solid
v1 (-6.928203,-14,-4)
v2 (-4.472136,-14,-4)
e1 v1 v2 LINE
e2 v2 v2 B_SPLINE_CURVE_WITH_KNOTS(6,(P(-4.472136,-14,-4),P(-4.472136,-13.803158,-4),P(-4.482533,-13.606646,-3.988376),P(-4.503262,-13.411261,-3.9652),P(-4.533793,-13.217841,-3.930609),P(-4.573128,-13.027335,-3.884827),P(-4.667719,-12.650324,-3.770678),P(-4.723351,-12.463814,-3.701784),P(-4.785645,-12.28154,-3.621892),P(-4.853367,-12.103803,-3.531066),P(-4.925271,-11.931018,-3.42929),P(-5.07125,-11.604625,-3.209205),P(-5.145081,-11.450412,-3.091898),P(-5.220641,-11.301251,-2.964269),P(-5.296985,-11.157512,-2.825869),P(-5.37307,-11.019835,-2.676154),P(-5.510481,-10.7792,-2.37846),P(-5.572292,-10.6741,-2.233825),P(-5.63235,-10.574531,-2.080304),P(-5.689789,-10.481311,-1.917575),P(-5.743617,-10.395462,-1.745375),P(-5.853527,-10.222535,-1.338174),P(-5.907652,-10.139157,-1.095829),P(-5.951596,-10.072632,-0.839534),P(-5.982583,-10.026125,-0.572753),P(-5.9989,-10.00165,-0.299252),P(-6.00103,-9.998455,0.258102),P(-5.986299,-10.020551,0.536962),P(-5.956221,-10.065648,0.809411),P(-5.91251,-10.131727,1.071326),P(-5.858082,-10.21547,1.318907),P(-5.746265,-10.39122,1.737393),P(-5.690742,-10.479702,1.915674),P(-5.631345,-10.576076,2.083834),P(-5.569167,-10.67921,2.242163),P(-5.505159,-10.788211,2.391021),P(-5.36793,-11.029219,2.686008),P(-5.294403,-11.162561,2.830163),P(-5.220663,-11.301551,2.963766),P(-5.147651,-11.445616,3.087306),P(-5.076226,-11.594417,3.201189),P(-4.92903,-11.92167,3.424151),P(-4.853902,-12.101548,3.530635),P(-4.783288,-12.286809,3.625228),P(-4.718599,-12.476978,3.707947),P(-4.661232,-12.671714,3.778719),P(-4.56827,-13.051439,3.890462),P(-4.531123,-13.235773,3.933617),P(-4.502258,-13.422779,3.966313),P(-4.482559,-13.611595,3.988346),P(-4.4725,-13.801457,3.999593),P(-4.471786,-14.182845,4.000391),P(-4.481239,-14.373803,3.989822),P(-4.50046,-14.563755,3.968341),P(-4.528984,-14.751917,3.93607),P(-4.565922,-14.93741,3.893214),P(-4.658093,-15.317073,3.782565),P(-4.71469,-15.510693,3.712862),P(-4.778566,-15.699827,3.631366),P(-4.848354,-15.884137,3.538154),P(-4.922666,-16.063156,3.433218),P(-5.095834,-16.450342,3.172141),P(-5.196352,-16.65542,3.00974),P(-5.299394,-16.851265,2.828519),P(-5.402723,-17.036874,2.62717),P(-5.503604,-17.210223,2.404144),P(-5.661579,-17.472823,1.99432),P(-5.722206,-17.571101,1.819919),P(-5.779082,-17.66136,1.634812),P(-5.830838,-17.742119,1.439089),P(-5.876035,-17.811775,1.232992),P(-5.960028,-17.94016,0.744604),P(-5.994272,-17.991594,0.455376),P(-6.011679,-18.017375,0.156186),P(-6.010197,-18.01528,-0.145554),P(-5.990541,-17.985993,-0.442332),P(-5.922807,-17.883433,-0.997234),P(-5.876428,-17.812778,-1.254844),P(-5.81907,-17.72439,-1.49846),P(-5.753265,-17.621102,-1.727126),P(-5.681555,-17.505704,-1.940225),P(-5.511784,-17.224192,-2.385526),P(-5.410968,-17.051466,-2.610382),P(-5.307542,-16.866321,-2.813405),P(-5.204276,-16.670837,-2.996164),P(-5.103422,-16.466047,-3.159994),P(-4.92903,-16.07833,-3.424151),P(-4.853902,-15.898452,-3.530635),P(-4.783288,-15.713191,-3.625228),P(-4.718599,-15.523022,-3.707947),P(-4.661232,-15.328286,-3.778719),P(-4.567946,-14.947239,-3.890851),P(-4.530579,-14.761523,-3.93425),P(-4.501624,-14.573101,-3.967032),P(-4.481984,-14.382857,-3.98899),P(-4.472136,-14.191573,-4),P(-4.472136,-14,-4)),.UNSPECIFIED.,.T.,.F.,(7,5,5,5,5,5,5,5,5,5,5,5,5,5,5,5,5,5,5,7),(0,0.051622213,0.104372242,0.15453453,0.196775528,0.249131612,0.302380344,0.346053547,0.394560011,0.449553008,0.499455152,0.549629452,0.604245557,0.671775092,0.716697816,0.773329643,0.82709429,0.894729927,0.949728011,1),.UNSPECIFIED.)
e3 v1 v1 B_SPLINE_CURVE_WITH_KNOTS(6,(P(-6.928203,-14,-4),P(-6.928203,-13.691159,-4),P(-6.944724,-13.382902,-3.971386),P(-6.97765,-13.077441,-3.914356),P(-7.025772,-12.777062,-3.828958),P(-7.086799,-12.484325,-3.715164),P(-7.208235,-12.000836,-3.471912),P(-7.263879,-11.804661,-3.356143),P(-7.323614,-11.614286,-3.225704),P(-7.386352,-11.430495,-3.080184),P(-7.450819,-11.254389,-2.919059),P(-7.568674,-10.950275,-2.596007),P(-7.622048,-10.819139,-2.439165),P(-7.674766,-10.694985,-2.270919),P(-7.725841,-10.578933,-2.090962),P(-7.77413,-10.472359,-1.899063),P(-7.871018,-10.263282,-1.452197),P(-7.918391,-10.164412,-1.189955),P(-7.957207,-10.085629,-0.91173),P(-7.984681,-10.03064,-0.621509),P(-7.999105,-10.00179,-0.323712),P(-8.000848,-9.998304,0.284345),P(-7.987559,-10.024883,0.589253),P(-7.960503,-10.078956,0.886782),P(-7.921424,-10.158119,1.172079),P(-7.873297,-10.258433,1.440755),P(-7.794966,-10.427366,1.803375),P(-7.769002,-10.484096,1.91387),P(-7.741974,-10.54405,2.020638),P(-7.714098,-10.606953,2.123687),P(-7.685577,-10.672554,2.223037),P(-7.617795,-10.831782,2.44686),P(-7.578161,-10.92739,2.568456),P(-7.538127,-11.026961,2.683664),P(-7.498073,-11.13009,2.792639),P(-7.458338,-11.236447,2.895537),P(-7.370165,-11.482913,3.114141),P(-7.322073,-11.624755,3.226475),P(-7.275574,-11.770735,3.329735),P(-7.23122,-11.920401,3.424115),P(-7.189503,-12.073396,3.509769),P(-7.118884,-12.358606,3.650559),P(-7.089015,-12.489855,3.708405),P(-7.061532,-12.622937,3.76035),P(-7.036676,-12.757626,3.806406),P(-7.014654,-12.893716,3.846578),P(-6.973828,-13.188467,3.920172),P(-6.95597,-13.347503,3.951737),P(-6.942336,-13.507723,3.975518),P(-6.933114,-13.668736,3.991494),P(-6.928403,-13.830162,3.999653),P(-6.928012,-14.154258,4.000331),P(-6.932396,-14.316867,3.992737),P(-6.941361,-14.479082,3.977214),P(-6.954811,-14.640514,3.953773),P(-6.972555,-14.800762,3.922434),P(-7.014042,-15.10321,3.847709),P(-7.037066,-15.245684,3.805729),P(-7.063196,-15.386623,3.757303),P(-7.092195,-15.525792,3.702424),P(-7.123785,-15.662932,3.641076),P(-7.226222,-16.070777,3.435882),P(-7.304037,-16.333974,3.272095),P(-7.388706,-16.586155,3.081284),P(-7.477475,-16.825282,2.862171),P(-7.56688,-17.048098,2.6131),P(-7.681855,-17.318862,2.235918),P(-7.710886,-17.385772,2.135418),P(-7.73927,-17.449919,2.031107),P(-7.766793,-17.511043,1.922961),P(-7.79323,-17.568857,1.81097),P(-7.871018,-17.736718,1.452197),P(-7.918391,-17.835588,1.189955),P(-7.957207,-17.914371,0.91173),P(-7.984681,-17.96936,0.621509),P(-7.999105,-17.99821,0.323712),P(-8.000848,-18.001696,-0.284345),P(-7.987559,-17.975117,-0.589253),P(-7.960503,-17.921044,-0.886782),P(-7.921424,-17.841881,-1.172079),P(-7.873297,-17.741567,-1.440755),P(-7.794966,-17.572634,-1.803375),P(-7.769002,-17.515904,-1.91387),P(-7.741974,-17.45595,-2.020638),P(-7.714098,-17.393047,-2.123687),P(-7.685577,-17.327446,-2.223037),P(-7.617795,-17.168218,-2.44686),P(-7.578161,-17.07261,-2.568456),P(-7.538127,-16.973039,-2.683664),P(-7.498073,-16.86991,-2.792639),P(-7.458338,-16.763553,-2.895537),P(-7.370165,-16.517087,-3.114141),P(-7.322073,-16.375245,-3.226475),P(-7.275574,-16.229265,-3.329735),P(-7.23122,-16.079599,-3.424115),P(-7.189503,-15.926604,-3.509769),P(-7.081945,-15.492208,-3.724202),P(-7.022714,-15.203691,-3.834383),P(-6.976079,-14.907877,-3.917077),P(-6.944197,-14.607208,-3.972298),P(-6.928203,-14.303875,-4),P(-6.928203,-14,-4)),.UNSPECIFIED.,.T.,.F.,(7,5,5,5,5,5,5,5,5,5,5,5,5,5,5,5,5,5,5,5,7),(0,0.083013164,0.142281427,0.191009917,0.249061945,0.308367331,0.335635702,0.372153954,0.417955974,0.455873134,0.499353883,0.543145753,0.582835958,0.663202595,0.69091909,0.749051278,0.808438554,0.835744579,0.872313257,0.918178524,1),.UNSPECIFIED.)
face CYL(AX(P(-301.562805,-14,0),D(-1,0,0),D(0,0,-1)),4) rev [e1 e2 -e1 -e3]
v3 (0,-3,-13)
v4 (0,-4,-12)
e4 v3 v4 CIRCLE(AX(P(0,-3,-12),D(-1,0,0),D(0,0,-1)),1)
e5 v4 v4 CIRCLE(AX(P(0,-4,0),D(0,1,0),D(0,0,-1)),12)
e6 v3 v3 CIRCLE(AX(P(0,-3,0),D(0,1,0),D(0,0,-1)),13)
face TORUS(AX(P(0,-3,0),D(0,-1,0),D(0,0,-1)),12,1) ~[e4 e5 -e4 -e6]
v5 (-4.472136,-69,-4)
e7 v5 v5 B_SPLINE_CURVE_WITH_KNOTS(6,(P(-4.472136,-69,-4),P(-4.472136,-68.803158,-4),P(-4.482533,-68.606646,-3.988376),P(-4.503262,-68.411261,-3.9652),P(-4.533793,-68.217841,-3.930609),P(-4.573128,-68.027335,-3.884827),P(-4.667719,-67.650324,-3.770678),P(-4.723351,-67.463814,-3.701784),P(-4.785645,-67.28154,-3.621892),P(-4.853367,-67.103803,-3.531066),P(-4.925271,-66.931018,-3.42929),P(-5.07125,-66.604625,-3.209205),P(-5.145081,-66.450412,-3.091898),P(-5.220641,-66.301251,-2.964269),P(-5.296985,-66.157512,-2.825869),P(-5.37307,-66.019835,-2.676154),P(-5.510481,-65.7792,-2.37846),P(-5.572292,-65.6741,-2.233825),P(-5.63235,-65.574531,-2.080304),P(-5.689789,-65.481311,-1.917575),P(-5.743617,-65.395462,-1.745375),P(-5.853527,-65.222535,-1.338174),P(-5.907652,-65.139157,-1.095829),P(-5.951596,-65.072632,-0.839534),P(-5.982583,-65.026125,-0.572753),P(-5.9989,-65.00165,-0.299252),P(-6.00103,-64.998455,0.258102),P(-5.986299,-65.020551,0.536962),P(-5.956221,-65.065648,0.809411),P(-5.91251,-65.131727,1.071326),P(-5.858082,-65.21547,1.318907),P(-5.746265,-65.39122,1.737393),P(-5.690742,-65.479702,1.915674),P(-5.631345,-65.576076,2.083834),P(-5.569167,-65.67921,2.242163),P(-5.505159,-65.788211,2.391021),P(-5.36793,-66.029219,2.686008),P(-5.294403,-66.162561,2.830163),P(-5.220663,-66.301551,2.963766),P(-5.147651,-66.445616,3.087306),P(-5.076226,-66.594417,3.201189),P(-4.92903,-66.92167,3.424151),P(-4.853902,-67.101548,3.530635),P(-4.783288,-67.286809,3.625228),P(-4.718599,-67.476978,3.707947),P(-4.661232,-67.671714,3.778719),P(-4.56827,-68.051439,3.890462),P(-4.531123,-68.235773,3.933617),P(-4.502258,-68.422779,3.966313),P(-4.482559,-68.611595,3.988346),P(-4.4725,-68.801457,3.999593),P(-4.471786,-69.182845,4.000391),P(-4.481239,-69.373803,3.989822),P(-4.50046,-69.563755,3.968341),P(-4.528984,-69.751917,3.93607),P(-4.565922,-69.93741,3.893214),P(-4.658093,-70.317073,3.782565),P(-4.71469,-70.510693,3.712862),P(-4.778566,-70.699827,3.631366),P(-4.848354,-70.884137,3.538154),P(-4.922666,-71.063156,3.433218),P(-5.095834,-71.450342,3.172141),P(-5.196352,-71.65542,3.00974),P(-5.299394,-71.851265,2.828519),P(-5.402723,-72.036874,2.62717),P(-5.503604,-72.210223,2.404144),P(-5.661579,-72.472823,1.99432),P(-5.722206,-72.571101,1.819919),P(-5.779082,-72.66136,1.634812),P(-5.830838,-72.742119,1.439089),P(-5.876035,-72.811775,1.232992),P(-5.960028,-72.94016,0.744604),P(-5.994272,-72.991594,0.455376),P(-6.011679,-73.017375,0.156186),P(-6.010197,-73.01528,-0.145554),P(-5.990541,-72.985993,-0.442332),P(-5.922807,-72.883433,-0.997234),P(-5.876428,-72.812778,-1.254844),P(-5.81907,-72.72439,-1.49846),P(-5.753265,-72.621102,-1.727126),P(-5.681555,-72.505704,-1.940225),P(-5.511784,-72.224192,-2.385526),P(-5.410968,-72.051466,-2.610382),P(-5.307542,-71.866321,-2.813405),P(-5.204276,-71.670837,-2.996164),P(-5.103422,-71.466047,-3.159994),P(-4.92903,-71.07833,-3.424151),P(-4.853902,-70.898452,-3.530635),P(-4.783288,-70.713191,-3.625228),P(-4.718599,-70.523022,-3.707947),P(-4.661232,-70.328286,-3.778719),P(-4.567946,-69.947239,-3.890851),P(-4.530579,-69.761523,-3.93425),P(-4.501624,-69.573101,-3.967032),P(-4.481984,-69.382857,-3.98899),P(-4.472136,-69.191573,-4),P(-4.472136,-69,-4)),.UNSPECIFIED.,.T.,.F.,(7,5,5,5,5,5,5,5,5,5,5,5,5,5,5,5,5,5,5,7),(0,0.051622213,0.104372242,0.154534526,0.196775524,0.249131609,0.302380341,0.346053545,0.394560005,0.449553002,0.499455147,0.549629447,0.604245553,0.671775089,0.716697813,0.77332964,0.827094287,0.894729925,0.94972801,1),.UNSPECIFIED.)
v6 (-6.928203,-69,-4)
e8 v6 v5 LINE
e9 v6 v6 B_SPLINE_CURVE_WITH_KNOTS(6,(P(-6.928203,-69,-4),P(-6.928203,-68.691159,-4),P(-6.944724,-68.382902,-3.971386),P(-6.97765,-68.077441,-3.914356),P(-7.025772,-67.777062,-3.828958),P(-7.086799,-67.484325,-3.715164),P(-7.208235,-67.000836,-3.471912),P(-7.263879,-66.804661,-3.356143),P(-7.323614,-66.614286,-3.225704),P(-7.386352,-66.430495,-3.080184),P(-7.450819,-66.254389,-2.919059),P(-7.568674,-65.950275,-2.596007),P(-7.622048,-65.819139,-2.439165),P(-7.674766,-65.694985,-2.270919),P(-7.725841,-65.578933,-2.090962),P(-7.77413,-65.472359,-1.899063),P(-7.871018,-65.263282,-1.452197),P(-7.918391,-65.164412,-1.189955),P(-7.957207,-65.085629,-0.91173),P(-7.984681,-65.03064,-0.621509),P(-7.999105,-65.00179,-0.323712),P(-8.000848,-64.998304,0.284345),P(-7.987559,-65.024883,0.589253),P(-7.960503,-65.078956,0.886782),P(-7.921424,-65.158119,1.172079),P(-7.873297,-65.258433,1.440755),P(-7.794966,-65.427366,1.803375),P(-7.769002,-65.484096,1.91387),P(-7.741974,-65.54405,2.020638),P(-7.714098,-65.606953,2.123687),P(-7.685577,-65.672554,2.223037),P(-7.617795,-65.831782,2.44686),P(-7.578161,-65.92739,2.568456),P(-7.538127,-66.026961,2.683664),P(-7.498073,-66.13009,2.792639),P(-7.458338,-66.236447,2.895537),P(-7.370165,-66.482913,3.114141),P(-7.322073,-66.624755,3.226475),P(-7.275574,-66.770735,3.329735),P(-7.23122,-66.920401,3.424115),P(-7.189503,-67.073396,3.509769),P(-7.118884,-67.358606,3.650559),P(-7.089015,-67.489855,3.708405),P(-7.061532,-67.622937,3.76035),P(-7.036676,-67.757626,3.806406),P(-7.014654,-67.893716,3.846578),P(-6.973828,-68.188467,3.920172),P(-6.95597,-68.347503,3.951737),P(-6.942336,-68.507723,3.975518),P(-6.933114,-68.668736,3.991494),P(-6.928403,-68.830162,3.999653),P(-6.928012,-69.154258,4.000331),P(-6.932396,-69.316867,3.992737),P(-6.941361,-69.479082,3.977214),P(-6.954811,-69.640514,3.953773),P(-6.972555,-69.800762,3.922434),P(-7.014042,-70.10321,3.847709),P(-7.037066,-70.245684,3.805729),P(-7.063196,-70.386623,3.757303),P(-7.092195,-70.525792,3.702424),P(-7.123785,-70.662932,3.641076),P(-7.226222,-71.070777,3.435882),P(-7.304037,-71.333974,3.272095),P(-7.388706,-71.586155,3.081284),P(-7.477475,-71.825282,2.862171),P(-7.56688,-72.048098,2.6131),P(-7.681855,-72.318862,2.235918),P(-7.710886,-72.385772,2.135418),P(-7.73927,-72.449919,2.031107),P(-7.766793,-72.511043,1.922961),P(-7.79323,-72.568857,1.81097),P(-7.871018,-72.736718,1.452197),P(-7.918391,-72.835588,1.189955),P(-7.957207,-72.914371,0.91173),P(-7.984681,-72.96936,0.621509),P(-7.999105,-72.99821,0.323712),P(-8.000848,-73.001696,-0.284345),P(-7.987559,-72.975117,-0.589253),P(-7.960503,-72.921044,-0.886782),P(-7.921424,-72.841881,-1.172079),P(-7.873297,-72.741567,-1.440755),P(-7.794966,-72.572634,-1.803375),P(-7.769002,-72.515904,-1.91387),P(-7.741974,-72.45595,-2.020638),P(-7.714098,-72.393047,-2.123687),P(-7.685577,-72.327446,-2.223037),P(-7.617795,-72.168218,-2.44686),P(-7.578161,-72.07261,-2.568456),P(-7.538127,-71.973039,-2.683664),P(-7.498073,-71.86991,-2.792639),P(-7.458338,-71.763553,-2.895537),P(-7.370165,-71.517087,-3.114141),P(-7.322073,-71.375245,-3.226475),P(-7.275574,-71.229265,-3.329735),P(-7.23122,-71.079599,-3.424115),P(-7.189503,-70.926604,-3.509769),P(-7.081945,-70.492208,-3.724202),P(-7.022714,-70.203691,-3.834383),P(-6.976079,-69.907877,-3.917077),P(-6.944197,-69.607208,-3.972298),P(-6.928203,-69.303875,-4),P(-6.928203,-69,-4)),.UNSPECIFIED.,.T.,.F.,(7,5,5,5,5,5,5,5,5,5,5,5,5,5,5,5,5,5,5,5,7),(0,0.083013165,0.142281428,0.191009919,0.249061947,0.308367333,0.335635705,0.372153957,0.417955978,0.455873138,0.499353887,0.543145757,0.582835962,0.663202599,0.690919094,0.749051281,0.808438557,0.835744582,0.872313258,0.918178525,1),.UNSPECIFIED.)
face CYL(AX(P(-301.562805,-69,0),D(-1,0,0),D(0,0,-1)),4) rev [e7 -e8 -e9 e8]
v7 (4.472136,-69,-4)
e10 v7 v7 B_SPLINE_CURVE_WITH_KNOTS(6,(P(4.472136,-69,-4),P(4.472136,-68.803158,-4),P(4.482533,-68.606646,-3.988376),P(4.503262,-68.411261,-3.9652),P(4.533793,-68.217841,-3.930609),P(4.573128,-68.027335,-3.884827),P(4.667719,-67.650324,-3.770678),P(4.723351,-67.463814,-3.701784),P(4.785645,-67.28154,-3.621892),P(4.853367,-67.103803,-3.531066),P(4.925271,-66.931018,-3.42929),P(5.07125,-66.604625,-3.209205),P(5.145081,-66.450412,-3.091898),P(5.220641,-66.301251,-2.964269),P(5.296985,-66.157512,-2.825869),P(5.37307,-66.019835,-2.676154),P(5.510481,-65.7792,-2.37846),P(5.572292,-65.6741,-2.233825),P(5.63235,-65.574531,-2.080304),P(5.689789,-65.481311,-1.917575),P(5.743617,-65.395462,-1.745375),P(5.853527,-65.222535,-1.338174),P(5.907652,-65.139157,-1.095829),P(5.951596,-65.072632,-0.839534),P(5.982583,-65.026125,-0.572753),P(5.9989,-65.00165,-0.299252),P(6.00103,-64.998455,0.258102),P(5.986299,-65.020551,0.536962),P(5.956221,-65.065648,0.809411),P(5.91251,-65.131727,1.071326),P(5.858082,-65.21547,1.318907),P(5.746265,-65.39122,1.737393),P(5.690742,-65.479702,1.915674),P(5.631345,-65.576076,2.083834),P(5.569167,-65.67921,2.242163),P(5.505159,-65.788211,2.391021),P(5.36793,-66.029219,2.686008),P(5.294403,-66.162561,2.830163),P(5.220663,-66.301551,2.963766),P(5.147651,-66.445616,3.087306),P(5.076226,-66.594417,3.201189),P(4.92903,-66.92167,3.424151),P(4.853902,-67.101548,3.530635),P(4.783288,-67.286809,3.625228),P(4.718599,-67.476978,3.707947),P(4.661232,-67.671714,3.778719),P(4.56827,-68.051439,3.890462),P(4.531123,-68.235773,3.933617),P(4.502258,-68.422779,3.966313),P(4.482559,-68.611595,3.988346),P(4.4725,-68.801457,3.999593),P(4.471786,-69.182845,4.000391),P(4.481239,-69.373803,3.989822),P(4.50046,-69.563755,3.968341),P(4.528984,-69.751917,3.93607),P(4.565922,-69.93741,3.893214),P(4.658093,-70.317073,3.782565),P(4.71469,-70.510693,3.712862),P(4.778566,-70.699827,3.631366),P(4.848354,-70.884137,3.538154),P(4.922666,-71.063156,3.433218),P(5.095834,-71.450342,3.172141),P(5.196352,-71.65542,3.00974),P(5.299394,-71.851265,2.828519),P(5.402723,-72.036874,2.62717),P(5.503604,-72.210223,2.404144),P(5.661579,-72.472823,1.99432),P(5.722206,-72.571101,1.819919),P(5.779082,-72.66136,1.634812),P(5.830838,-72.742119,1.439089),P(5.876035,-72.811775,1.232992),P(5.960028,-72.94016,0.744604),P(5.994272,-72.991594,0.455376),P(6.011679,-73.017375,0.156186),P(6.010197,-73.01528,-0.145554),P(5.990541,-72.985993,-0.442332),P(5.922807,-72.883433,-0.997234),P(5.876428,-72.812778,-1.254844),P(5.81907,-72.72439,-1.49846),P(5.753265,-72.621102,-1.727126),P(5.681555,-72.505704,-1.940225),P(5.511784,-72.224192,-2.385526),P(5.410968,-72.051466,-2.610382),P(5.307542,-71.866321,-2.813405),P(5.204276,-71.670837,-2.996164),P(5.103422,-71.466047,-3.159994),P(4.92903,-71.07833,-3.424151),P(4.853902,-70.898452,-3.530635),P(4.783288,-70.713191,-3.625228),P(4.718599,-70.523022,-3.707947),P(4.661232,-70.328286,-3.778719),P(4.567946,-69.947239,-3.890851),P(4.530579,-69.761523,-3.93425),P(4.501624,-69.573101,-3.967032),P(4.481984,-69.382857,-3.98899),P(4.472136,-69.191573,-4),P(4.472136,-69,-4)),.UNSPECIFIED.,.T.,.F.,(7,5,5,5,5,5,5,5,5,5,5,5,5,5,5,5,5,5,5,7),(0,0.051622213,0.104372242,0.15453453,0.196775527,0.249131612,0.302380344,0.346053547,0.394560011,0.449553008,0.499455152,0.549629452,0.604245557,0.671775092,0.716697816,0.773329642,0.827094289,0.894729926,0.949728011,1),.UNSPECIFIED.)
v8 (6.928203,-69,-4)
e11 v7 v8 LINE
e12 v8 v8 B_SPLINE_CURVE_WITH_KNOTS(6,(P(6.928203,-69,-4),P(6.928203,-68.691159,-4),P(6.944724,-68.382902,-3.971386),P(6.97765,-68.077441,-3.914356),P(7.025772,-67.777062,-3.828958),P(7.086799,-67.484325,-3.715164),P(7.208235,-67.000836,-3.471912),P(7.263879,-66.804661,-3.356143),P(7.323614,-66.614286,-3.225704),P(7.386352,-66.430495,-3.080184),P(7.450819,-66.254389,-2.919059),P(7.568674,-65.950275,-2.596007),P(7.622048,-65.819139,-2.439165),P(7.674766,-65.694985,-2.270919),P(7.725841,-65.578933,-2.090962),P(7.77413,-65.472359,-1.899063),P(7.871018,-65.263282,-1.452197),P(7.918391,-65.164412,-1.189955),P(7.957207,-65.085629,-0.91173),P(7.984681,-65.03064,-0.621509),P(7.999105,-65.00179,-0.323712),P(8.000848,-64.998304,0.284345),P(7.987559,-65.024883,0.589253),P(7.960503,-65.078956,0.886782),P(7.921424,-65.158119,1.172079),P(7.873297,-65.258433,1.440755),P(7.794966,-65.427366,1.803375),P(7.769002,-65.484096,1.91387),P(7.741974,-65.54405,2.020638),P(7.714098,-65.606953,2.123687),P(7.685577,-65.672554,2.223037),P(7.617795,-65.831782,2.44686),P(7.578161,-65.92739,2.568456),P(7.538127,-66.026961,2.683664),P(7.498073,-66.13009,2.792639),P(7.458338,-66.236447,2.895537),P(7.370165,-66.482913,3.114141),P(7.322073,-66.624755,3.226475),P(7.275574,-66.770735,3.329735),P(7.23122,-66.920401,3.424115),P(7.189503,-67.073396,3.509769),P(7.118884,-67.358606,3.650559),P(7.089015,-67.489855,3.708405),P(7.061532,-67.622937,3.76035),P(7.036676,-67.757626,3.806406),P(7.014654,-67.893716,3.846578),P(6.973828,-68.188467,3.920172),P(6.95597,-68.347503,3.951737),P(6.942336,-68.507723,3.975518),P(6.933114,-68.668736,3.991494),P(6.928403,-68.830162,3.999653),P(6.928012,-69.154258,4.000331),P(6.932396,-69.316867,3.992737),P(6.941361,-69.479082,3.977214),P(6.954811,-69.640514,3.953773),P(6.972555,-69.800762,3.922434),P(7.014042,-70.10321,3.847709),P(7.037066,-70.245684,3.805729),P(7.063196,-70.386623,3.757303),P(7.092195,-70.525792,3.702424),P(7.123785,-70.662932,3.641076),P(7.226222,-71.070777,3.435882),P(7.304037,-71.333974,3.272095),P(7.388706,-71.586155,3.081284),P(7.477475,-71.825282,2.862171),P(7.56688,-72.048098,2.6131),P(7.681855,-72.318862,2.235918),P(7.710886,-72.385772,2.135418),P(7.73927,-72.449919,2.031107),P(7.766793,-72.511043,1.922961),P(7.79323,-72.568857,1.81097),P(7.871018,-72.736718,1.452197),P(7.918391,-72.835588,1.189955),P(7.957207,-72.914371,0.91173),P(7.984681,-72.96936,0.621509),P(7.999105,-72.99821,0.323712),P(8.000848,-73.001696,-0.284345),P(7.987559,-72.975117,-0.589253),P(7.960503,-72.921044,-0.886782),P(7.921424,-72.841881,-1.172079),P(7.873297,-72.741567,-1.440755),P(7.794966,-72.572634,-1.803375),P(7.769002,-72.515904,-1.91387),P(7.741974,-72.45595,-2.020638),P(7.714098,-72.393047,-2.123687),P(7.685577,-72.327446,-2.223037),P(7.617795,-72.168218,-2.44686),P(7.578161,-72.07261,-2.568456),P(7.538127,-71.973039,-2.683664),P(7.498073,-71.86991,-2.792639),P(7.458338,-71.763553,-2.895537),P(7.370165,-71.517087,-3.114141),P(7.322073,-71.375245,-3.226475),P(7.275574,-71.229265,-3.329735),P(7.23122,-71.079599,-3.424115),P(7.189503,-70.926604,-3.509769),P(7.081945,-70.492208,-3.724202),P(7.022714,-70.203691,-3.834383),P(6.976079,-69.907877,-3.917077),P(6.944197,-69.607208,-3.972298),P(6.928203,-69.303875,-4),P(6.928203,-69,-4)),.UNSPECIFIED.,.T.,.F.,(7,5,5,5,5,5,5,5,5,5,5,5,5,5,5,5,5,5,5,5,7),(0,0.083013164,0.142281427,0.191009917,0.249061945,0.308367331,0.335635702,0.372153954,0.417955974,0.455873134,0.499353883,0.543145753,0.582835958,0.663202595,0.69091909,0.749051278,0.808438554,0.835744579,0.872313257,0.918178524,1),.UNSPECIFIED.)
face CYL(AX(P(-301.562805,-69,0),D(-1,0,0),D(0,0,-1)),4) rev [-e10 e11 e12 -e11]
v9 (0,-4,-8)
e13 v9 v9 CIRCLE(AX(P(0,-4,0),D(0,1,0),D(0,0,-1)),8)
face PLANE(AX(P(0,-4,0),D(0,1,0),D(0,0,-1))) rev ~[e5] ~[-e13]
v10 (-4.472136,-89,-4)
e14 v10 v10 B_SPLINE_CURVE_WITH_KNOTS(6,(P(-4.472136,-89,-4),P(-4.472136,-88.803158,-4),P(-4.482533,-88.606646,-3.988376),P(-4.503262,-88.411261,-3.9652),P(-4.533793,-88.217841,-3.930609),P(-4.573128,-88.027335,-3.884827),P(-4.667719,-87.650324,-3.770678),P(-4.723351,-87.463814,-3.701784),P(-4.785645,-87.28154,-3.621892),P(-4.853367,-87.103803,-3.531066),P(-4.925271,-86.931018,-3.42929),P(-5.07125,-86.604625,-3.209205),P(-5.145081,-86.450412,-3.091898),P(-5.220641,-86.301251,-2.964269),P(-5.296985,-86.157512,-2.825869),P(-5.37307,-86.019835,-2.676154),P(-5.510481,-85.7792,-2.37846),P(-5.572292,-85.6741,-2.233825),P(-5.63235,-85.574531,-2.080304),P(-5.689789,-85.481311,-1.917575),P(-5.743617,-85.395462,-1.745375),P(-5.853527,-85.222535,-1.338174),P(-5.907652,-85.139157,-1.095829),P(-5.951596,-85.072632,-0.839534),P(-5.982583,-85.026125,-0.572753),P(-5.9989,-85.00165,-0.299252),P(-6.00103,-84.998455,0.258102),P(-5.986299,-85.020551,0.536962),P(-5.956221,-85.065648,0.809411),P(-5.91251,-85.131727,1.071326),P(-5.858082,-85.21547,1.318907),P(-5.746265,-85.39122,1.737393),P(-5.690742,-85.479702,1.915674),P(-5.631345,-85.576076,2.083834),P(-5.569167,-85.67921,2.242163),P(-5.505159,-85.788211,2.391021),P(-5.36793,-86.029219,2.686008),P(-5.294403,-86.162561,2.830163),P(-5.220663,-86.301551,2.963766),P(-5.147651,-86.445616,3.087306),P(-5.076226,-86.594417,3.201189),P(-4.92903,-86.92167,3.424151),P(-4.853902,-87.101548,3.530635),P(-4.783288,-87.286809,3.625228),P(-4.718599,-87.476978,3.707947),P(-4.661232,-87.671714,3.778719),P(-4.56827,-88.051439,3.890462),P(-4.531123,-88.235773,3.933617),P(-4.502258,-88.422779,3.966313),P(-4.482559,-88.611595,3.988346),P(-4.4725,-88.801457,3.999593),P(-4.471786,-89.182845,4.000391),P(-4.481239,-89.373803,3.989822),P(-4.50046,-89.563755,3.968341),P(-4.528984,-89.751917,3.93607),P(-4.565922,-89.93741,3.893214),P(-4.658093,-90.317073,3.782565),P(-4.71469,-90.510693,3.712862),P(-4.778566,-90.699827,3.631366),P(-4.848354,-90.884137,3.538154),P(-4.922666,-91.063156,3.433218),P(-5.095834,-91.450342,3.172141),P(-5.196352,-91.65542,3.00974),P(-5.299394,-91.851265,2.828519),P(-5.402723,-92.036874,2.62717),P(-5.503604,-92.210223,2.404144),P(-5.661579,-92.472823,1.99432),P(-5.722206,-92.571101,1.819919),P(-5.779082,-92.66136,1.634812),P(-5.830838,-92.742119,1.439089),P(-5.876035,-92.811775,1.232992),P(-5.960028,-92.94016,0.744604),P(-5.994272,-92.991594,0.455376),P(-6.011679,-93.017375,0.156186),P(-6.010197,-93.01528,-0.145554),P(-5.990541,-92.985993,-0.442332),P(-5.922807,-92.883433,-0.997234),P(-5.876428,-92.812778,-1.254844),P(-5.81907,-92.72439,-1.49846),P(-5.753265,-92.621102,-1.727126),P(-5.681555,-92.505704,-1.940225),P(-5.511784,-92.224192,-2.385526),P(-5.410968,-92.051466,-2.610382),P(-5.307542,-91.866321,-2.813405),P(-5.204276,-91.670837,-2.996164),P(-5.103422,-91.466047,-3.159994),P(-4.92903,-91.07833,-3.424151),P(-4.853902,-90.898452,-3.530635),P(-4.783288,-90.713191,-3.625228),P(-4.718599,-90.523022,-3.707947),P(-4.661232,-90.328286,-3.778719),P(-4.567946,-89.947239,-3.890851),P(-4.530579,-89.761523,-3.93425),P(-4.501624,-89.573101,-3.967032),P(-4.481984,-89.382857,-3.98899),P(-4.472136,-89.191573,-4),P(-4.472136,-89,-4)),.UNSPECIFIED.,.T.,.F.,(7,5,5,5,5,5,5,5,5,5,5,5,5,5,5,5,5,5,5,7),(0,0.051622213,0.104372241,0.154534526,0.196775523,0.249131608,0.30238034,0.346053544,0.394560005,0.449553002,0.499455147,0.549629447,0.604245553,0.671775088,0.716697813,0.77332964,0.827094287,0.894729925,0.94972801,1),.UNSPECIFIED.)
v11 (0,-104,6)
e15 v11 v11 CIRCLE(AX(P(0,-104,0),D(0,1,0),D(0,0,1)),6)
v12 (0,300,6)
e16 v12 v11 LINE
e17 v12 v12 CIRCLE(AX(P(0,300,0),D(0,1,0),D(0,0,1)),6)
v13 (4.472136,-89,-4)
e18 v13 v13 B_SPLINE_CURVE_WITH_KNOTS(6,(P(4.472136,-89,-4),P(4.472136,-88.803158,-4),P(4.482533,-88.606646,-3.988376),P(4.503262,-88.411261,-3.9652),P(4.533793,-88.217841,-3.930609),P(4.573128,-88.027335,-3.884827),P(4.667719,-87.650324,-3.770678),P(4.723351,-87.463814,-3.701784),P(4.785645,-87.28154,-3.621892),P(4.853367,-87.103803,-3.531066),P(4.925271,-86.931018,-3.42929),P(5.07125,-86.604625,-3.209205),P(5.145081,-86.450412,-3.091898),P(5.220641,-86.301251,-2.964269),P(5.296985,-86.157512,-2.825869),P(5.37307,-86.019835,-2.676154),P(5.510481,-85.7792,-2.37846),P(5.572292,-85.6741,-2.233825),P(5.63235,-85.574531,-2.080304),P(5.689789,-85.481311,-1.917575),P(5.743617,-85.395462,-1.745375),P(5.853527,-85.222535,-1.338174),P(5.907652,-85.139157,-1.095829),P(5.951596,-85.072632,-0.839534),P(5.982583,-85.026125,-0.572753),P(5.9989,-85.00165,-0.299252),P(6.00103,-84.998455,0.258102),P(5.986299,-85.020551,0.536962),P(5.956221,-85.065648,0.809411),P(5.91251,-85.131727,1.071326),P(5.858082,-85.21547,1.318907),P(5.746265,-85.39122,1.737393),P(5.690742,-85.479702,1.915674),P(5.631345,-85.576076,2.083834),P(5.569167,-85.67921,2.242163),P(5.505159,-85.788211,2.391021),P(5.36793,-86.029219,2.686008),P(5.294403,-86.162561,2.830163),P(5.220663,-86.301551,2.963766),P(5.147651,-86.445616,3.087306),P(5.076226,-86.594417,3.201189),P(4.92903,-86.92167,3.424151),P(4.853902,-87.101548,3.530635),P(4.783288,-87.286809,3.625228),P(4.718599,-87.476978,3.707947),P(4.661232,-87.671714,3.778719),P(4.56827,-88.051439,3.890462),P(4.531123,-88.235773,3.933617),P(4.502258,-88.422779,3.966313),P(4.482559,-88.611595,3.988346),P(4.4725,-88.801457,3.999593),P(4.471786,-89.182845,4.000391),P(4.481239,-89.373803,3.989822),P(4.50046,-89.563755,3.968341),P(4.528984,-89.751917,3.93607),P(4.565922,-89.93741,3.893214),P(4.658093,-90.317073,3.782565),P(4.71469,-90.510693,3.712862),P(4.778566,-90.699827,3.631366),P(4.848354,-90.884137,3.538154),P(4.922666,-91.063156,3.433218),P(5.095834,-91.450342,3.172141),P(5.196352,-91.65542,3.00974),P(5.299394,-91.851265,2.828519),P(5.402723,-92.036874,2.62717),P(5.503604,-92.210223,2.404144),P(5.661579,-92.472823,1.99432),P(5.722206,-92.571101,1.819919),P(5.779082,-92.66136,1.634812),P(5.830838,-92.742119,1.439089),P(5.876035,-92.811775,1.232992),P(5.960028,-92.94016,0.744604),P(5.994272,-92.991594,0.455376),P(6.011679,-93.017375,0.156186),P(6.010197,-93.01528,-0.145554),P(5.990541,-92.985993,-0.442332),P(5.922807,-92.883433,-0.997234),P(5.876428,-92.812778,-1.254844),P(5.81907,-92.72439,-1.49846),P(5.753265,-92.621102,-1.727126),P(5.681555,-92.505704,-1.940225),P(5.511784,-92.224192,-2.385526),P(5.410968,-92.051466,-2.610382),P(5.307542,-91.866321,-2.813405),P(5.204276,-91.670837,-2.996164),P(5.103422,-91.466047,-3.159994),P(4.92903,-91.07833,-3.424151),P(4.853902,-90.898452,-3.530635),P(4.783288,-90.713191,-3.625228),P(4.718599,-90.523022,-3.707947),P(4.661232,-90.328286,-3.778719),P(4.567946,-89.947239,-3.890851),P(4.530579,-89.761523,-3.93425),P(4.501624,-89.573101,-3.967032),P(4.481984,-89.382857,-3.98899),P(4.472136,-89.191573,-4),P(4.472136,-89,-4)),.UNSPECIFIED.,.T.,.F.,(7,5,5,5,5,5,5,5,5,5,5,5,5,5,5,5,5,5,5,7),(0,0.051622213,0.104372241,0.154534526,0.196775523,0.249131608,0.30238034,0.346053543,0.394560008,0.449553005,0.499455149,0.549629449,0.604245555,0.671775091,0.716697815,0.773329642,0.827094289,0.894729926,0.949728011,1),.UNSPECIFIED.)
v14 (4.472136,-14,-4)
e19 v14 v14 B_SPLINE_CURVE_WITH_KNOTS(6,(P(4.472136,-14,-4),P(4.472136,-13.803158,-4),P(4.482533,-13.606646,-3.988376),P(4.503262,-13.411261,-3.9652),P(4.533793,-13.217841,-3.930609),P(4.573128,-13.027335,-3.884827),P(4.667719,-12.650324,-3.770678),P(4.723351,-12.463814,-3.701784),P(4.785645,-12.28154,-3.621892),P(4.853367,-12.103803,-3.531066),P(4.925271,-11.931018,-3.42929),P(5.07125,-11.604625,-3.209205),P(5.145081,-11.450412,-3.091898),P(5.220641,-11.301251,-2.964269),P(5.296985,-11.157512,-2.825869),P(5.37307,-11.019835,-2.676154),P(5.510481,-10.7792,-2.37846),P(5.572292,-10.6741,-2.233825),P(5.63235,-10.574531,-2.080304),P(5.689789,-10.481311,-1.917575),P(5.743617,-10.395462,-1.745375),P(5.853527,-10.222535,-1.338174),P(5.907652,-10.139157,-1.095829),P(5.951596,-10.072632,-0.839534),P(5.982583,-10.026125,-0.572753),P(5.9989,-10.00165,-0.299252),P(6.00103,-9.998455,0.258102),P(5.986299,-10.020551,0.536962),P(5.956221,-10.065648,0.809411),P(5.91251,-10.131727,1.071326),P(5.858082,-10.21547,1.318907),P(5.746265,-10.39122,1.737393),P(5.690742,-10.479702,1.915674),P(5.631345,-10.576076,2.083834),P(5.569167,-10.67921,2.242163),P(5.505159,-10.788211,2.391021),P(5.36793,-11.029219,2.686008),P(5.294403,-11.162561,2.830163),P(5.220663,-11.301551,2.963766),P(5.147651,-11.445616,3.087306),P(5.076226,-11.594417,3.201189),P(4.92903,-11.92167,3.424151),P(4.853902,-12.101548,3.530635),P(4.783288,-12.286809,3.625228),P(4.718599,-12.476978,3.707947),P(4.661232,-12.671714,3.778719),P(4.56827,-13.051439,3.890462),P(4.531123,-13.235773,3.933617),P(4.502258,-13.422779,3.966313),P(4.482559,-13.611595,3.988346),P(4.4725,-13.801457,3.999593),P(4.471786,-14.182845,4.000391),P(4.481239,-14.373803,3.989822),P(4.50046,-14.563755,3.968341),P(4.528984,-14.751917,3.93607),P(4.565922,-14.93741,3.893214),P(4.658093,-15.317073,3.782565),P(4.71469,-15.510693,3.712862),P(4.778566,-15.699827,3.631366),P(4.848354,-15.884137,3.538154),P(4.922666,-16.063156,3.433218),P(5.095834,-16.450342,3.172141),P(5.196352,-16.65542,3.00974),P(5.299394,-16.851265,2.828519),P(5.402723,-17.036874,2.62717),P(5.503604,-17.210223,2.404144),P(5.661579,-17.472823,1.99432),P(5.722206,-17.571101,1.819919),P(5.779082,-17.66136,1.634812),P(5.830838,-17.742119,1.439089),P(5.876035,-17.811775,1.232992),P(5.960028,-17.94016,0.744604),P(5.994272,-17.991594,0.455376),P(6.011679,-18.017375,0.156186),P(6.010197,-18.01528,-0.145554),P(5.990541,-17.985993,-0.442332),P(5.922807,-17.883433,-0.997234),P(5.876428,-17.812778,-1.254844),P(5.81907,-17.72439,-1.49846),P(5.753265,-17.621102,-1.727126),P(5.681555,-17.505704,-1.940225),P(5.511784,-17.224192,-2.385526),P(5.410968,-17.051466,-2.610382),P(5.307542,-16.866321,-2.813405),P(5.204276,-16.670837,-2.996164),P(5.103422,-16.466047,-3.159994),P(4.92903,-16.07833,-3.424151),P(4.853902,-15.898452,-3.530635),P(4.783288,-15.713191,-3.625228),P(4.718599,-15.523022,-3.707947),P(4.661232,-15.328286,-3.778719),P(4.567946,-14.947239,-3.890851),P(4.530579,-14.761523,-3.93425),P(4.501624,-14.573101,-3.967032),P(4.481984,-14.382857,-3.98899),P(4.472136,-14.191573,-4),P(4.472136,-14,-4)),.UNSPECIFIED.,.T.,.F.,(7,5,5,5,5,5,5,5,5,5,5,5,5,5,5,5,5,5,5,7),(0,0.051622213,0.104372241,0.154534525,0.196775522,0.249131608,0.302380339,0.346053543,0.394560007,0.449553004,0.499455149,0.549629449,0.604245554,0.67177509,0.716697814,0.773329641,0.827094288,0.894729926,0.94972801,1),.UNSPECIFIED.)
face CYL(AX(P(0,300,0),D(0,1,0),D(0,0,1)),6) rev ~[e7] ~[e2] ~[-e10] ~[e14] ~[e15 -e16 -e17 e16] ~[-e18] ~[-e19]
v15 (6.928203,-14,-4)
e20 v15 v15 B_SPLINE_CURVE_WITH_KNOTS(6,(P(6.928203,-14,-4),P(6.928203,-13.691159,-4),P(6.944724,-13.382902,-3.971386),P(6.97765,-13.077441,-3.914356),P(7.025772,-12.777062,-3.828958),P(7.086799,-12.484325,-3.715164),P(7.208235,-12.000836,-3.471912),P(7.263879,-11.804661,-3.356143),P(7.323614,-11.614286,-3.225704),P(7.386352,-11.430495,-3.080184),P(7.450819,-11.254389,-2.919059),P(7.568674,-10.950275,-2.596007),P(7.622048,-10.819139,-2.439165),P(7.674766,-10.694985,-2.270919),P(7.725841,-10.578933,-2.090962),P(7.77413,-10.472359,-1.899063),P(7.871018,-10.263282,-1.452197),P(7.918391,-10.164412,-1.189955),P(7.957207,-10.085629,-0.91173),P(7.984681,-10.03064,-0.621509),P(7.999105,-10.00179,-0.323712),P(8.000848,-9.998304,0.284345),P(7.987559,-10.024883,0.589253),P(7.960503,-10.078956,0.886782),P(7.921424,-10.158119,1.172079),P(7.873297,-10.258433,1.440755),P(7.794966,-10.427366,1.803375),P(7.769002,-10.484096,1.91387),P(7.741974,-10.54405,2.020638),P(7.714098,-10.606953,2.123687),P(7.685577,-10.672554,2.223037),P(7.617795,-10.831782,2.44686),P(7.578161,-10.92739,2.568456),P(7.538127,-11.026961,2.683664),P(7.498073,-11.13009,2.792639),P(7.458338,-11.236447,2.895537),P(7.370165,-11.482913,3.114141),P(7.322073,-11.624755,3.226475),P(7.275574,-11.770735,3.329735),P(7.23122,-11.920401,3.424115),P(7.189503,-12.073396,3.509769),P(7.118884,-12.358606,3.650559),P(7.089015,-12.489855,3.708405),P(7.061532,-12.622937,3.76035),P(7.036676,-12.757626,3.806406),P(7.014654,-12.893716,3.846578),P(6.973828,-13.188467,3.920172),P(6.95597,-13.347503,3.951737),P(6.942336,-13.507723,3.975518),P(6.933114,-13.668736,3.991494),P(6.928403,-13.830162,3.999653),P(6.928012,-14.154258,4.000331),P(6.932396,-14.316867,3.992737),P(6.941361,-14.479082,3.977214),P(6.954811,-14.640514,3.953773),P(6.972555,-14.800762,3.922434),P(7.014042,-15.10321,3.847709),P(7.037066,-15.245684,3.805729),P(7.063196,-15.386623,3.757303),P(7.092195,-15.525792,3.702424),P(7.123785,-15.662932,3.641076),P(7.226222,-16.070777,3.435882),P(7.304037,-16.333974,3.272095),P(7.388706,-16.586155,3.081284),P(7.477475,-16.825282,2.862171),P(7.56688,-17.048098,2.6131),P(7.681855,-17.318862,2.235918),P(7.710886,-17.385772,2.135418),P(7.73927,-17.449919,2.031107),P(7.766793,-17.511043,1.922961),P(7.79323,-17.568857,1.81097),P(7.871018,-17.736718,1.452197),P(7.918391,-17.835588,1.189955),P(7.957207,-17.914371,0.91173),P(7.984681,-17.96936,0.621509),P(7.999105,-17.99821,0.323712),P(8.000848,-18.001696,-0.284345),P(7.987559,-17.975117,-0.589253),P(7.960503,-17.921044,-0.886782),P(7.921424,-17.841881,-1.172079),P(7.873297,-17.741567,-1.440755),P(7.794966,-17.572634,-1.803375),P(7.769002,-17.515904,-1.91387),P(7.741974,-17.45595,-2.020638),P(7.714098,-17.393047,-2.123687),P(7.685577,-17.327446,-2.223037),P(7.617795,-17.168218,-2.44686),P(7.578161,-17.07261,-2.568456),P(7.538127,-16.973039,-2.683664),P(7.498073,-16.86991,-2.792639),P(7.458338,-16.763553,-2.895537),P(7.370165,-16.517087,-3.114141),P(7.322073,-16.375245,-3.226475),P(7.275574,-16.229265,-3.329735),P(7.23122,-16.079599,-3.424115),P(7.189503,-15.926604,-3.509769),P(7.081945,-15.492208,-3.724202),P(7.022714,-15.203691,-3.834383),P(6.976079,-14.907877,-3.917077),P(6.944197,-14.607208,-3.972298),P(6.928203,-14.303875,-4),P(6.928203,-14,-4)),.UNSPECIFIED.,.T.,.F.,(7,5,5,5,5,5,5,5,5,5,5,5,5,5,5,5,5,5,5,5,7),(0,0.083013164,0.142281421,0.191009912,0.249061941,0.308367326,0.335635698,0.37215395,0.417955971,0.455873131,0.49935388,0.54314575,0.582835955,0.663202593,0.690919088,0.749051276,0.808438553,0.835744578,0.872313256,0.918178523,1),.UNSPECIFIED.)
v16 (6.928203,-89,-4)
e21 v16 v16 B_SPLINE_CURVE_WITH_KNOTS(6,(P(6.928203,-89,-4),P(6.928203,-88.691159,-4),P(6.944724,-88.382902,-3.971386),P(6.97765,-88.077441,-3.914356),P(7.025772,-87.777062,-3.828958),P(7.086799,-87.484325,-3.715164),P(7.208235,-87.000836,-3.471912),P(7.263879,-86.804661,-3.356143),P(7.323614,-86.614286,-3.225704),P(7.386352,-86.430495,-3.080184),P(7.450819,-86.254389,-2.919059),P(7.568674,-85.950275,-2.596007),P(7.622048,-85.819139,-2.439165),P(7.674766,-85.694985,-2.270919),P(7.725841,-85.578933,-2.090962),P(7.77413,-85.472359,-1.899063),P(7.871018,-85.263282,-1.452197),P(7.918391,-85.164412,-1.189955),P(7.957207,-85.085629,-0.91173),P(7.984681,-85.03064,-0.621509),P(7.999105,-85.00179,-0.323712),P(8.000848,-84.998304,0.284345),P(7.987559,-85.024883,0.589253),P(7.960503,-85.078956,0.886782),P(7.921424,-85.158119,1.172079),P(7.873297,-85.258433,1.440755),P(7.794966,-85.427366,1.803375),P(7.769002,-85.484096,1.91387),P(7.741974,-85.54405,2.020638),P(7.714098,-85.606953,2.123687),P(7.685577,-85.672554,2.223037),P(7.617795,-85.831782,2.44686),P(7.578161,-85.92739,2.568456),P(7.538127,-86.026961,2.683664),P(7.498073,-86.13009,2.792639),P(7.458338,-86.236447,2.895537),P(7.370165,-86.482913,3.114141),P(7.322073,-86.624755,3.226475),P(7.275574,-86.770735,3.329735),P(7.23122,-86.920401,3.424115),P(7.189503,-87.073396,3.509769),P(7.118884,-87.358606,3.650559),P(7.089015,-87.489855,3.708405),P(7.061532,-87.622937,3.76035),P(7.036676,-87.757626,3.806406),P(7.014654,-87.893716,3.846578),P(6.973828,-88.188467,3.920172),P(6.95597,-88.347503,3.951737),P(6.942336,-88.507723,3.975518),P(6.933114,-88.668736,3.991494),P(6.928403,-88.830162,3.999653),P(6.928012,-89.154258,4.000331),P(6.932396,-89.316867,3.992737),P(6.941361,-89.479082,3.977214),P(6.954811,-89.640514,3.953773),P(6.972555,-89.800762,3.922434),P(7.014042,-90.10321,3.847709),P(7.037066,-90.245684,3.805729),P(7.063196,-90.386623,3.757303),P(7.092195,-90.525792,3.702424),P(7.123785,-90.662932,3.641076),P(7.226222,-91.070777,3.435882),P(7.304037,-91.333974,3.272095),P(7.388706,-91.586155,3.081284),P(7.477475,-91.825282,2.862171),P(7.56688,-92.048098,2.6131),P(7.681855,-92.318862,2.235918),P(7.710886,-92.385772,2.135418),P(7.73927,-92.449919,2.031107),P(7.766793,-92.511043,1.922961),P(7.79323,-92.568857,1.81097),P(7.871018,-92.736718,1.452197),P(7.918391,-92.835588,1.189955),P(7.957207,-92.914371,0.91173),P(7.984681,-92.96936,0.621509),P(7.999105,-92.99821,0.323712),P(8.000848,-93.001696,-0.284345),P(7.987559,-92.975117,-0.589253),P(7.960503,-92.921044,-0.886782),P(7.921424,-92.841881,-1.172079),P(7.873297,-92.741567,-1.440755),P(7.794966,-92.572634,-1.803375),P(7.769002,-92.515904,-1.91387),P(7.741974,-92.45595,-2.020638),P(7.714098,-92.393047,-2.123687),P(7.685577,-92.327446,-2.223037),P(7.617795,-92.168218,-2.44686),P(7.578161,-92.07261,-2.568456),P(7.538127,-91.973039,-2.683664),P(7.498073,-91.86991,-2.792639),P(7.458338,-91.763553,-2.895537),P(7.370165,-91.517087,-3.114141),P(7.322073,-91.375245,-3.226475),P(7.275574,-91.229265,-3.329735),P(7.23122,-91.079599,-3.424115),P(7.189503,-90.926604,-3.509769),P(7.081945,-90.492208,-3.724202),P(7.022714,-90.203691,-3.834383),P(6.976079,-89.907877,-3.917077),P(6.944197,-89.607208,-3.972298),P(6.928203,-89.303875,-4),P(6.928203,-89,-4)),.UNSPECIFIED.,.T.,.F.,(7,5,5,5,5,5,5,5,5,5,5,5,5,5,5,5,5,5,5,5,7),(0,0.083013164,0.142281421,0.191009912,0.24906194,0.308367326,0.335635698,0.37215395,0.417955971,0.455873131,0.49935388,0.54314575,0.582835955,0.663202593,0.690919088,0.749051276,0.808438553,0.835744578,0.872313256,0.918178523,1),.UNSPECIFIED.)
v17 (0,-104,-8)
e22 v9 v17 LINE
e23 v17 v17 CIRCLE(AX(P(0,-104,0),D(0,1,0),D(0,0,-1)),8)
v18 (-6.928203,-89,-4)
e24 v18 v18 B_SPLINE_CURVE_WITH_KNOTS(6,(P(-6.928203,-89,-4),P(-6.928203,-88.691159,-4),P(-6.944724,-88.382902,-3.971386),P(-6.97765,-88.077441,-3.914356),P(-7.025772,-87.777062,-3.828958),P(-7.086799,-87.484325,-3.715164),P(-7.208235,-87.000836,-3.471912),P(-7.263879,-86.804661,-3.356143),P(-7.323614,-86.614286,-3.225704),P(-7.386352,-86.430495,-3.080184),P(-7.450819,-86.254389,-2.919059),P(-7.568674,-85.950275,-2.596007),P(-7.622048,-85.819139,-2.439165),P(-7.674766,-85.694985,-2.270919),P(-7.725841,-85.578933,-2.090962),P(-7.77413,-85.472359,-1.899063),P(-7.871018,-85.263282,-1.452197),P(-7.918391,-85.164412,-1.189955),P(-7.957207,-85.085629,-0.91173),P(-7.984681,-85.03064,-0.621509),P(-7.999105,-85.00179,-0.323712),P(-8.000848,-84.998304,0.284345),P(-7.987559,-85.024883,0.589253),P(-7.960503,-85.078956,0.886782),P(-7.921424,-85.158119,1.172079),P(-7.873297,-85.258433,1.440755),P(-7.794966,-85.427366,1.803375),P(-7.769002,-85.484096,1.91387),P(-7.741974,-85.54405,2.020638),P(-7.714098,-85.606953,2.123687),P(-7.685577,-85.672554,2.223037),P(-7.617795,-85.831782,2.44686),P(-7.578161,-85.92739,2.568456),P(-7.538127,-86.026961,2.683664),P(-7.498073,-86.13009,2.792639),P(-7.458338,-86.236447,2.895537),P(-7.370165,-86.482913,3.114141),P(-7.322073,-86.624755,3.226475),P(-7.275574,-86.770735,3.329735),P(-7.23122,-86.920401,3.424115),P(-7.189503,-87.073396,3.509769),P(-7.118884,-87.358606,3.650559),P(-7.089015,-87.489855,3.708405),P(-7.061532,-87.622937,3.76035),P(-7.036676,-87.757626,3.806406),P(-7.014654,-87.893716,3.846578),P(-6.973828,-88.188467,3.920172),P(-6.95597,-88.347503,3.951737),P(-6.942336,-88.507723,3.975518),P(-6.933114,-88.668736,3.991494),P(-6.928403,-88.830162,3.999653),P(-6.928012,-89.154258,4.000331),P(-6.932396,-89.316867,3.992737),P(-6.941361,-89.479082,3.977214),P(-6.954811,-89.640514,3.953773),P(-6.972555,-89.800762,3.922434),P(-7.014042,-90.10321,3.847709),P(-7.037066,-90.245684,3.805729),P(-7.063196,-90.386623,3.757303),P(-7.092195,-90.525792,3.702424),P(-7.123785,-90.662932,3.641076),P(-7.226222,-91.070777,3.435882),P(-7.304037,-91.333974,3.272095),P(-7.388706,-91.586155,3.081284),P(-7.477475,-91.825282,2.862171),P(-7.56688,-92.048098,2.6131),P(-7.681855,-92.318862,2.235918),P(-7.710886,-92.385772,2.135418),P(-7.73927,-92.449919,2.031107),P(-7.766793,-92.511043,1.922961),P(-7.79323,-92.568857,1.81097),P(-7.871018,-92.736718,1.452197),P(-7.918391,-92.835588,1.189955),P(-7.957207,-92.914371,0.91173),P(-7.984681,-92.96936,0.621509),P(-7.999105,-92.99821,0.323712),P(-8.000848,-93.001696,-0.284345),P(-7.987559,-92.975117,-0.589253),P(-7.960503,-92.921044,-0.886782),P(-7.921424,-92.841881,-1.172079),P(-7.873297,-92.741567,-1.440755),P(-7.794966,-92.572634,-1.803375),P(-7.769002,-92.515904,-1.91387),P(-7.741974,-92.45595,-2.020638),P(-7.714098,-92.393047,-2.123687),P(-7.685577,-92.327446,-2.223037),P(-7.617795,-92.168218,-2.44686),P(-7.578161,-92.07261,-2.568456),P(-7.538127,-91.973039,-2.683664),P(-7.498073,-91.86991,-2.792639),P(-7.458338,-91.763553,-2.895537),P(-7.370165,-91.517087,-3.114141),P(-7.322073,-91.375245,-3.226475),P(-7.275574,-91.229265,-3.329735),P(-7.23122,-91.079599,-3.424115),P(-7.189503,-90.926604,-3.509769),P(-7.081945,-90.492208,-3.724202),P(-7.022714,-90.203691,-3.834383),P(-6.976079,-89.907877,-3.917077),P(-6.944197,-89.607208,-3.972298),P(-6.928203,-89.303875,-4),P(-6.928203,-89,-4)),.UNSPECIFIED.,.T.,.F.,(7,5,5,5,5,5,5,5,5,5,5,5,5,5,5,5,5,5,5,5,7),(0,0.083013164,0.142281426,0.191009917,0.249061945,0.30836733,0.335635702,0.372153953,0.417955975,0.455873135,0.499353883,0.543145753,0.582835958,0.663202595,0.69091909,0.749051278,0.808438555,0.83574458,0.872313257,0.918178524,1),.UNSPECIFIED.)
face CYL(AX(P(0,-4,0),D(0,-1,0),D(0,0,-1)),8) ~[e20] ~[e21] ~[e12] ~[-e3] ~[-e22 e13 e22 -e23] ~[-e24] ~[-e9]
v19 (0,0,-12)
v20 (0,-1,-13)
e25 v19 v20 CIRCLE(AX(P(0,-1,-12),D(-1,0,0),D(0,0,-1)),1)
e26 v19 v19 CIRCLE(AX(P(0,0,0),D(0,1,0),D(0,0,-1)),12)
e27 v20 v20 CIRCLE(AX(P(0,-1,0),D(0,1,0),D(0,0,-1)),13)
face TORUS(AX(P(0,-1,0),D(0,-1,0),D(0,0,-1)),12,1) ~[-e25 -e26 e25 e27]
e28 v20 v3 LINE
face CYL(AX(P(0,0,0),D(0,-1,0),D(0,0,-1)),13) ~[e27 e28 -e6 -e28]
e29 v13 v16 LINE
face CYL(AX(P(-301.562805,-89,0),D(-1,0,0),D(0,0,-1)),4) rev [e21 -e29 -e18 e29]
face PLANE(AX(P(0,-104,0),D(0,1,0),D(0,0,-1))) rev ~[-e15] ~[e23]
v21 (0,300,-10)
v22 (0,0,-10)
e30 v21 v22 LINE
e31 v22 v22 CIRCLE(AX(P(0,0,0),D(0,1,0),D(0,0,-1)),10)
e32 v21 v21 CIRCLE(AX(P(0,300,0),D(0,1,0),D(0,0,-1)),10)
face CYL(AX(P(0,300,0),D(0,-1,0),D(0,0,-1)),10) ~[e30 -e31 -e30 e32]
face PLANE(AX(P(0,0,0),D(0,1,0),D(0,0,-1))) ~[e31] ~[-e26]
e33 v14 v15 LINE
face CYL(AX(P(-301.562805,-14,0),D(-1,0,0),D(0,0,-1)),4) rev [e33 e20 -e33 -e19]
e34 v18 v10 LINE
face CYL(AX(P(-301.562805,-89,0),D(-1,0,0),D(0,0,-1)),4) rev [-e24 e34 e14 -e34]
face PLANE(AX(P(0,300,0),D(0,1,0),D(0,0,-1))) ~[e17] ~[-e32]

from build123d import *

# Parameters (mm, degrees)
SKETCH2_R               = 6
CUT_EXTRUDE1_DEPTH      = 405.418100485
CUT_EXTRUDE3_DEPTH      = 301.562805417
CUT_EXTRUDE3_DEPTH_BACK = 301.562805417
SKETCH3_R               = 4
FILLET1_R               = 1


with BuildPart() as part:
    # Sketch1 → Revolve1 (revolve)
    with BuildSketch(Plane(origin=(0, 0, 0), x_dir=(0, 0, -1), z_dir=(1, 0, 0))):
        Polygon((0, 0), (0, 300), (10, 300), (10, 0), (13, 0), (13, -4), (8, -4), (8, -104), (0, -104), align=None)
    revolve(axis=Axis((0, 0, 0), (0, 1, 0)))

    # Sketch2 → Cut-Extrude1 (cut, through all)
    with BuildSketch(Plane(origin=(0, 300, 0), x_dir=(1, 0, 0), z_dir=(0, 1, 0))):
        with Locations(Location((0, 0, 0), (0, 0, 270))):
            Circle(SKETCH2_R)
    extrude(amount=-CUT_EXTRUDE1_DEPTH, mode=Mode.SUBTRACT)

    # Sketch3 → Cut-Extrude3 (cut, two sides: drawn at the far end of the back side and taken through both)
    with BuildSketch(Plane(origin=(0, 0, 0), x_dir=(0, 0, -1), z_dir=(1, 0, 0)).offset(-CUT_EXTRUDE3_DEPTH_BACK)):
        with Locations((0, -14)):
            Circle(SKETCH3_R)
        with Locations((0, -69)):
            Circle(SKETCH3_R)
        with Locations((0, -89)):
            Circle(SKETCH3_R)
    extrude(amount=CUT_EXTRUDE3_DEPTH + CUT_EXTRUDE3_DEPTH_BACK, mode=Mode.SUBTRACT)

    # Fillet1
    fillet1_edges = [part.edges().sort_by_distance(p)[0] for p in [
        (0, -4, 13),
        (0, 0, 13),
    ]]
    fillet(fillet1_edges, radius=FILLET1_R)


solid = part.part
